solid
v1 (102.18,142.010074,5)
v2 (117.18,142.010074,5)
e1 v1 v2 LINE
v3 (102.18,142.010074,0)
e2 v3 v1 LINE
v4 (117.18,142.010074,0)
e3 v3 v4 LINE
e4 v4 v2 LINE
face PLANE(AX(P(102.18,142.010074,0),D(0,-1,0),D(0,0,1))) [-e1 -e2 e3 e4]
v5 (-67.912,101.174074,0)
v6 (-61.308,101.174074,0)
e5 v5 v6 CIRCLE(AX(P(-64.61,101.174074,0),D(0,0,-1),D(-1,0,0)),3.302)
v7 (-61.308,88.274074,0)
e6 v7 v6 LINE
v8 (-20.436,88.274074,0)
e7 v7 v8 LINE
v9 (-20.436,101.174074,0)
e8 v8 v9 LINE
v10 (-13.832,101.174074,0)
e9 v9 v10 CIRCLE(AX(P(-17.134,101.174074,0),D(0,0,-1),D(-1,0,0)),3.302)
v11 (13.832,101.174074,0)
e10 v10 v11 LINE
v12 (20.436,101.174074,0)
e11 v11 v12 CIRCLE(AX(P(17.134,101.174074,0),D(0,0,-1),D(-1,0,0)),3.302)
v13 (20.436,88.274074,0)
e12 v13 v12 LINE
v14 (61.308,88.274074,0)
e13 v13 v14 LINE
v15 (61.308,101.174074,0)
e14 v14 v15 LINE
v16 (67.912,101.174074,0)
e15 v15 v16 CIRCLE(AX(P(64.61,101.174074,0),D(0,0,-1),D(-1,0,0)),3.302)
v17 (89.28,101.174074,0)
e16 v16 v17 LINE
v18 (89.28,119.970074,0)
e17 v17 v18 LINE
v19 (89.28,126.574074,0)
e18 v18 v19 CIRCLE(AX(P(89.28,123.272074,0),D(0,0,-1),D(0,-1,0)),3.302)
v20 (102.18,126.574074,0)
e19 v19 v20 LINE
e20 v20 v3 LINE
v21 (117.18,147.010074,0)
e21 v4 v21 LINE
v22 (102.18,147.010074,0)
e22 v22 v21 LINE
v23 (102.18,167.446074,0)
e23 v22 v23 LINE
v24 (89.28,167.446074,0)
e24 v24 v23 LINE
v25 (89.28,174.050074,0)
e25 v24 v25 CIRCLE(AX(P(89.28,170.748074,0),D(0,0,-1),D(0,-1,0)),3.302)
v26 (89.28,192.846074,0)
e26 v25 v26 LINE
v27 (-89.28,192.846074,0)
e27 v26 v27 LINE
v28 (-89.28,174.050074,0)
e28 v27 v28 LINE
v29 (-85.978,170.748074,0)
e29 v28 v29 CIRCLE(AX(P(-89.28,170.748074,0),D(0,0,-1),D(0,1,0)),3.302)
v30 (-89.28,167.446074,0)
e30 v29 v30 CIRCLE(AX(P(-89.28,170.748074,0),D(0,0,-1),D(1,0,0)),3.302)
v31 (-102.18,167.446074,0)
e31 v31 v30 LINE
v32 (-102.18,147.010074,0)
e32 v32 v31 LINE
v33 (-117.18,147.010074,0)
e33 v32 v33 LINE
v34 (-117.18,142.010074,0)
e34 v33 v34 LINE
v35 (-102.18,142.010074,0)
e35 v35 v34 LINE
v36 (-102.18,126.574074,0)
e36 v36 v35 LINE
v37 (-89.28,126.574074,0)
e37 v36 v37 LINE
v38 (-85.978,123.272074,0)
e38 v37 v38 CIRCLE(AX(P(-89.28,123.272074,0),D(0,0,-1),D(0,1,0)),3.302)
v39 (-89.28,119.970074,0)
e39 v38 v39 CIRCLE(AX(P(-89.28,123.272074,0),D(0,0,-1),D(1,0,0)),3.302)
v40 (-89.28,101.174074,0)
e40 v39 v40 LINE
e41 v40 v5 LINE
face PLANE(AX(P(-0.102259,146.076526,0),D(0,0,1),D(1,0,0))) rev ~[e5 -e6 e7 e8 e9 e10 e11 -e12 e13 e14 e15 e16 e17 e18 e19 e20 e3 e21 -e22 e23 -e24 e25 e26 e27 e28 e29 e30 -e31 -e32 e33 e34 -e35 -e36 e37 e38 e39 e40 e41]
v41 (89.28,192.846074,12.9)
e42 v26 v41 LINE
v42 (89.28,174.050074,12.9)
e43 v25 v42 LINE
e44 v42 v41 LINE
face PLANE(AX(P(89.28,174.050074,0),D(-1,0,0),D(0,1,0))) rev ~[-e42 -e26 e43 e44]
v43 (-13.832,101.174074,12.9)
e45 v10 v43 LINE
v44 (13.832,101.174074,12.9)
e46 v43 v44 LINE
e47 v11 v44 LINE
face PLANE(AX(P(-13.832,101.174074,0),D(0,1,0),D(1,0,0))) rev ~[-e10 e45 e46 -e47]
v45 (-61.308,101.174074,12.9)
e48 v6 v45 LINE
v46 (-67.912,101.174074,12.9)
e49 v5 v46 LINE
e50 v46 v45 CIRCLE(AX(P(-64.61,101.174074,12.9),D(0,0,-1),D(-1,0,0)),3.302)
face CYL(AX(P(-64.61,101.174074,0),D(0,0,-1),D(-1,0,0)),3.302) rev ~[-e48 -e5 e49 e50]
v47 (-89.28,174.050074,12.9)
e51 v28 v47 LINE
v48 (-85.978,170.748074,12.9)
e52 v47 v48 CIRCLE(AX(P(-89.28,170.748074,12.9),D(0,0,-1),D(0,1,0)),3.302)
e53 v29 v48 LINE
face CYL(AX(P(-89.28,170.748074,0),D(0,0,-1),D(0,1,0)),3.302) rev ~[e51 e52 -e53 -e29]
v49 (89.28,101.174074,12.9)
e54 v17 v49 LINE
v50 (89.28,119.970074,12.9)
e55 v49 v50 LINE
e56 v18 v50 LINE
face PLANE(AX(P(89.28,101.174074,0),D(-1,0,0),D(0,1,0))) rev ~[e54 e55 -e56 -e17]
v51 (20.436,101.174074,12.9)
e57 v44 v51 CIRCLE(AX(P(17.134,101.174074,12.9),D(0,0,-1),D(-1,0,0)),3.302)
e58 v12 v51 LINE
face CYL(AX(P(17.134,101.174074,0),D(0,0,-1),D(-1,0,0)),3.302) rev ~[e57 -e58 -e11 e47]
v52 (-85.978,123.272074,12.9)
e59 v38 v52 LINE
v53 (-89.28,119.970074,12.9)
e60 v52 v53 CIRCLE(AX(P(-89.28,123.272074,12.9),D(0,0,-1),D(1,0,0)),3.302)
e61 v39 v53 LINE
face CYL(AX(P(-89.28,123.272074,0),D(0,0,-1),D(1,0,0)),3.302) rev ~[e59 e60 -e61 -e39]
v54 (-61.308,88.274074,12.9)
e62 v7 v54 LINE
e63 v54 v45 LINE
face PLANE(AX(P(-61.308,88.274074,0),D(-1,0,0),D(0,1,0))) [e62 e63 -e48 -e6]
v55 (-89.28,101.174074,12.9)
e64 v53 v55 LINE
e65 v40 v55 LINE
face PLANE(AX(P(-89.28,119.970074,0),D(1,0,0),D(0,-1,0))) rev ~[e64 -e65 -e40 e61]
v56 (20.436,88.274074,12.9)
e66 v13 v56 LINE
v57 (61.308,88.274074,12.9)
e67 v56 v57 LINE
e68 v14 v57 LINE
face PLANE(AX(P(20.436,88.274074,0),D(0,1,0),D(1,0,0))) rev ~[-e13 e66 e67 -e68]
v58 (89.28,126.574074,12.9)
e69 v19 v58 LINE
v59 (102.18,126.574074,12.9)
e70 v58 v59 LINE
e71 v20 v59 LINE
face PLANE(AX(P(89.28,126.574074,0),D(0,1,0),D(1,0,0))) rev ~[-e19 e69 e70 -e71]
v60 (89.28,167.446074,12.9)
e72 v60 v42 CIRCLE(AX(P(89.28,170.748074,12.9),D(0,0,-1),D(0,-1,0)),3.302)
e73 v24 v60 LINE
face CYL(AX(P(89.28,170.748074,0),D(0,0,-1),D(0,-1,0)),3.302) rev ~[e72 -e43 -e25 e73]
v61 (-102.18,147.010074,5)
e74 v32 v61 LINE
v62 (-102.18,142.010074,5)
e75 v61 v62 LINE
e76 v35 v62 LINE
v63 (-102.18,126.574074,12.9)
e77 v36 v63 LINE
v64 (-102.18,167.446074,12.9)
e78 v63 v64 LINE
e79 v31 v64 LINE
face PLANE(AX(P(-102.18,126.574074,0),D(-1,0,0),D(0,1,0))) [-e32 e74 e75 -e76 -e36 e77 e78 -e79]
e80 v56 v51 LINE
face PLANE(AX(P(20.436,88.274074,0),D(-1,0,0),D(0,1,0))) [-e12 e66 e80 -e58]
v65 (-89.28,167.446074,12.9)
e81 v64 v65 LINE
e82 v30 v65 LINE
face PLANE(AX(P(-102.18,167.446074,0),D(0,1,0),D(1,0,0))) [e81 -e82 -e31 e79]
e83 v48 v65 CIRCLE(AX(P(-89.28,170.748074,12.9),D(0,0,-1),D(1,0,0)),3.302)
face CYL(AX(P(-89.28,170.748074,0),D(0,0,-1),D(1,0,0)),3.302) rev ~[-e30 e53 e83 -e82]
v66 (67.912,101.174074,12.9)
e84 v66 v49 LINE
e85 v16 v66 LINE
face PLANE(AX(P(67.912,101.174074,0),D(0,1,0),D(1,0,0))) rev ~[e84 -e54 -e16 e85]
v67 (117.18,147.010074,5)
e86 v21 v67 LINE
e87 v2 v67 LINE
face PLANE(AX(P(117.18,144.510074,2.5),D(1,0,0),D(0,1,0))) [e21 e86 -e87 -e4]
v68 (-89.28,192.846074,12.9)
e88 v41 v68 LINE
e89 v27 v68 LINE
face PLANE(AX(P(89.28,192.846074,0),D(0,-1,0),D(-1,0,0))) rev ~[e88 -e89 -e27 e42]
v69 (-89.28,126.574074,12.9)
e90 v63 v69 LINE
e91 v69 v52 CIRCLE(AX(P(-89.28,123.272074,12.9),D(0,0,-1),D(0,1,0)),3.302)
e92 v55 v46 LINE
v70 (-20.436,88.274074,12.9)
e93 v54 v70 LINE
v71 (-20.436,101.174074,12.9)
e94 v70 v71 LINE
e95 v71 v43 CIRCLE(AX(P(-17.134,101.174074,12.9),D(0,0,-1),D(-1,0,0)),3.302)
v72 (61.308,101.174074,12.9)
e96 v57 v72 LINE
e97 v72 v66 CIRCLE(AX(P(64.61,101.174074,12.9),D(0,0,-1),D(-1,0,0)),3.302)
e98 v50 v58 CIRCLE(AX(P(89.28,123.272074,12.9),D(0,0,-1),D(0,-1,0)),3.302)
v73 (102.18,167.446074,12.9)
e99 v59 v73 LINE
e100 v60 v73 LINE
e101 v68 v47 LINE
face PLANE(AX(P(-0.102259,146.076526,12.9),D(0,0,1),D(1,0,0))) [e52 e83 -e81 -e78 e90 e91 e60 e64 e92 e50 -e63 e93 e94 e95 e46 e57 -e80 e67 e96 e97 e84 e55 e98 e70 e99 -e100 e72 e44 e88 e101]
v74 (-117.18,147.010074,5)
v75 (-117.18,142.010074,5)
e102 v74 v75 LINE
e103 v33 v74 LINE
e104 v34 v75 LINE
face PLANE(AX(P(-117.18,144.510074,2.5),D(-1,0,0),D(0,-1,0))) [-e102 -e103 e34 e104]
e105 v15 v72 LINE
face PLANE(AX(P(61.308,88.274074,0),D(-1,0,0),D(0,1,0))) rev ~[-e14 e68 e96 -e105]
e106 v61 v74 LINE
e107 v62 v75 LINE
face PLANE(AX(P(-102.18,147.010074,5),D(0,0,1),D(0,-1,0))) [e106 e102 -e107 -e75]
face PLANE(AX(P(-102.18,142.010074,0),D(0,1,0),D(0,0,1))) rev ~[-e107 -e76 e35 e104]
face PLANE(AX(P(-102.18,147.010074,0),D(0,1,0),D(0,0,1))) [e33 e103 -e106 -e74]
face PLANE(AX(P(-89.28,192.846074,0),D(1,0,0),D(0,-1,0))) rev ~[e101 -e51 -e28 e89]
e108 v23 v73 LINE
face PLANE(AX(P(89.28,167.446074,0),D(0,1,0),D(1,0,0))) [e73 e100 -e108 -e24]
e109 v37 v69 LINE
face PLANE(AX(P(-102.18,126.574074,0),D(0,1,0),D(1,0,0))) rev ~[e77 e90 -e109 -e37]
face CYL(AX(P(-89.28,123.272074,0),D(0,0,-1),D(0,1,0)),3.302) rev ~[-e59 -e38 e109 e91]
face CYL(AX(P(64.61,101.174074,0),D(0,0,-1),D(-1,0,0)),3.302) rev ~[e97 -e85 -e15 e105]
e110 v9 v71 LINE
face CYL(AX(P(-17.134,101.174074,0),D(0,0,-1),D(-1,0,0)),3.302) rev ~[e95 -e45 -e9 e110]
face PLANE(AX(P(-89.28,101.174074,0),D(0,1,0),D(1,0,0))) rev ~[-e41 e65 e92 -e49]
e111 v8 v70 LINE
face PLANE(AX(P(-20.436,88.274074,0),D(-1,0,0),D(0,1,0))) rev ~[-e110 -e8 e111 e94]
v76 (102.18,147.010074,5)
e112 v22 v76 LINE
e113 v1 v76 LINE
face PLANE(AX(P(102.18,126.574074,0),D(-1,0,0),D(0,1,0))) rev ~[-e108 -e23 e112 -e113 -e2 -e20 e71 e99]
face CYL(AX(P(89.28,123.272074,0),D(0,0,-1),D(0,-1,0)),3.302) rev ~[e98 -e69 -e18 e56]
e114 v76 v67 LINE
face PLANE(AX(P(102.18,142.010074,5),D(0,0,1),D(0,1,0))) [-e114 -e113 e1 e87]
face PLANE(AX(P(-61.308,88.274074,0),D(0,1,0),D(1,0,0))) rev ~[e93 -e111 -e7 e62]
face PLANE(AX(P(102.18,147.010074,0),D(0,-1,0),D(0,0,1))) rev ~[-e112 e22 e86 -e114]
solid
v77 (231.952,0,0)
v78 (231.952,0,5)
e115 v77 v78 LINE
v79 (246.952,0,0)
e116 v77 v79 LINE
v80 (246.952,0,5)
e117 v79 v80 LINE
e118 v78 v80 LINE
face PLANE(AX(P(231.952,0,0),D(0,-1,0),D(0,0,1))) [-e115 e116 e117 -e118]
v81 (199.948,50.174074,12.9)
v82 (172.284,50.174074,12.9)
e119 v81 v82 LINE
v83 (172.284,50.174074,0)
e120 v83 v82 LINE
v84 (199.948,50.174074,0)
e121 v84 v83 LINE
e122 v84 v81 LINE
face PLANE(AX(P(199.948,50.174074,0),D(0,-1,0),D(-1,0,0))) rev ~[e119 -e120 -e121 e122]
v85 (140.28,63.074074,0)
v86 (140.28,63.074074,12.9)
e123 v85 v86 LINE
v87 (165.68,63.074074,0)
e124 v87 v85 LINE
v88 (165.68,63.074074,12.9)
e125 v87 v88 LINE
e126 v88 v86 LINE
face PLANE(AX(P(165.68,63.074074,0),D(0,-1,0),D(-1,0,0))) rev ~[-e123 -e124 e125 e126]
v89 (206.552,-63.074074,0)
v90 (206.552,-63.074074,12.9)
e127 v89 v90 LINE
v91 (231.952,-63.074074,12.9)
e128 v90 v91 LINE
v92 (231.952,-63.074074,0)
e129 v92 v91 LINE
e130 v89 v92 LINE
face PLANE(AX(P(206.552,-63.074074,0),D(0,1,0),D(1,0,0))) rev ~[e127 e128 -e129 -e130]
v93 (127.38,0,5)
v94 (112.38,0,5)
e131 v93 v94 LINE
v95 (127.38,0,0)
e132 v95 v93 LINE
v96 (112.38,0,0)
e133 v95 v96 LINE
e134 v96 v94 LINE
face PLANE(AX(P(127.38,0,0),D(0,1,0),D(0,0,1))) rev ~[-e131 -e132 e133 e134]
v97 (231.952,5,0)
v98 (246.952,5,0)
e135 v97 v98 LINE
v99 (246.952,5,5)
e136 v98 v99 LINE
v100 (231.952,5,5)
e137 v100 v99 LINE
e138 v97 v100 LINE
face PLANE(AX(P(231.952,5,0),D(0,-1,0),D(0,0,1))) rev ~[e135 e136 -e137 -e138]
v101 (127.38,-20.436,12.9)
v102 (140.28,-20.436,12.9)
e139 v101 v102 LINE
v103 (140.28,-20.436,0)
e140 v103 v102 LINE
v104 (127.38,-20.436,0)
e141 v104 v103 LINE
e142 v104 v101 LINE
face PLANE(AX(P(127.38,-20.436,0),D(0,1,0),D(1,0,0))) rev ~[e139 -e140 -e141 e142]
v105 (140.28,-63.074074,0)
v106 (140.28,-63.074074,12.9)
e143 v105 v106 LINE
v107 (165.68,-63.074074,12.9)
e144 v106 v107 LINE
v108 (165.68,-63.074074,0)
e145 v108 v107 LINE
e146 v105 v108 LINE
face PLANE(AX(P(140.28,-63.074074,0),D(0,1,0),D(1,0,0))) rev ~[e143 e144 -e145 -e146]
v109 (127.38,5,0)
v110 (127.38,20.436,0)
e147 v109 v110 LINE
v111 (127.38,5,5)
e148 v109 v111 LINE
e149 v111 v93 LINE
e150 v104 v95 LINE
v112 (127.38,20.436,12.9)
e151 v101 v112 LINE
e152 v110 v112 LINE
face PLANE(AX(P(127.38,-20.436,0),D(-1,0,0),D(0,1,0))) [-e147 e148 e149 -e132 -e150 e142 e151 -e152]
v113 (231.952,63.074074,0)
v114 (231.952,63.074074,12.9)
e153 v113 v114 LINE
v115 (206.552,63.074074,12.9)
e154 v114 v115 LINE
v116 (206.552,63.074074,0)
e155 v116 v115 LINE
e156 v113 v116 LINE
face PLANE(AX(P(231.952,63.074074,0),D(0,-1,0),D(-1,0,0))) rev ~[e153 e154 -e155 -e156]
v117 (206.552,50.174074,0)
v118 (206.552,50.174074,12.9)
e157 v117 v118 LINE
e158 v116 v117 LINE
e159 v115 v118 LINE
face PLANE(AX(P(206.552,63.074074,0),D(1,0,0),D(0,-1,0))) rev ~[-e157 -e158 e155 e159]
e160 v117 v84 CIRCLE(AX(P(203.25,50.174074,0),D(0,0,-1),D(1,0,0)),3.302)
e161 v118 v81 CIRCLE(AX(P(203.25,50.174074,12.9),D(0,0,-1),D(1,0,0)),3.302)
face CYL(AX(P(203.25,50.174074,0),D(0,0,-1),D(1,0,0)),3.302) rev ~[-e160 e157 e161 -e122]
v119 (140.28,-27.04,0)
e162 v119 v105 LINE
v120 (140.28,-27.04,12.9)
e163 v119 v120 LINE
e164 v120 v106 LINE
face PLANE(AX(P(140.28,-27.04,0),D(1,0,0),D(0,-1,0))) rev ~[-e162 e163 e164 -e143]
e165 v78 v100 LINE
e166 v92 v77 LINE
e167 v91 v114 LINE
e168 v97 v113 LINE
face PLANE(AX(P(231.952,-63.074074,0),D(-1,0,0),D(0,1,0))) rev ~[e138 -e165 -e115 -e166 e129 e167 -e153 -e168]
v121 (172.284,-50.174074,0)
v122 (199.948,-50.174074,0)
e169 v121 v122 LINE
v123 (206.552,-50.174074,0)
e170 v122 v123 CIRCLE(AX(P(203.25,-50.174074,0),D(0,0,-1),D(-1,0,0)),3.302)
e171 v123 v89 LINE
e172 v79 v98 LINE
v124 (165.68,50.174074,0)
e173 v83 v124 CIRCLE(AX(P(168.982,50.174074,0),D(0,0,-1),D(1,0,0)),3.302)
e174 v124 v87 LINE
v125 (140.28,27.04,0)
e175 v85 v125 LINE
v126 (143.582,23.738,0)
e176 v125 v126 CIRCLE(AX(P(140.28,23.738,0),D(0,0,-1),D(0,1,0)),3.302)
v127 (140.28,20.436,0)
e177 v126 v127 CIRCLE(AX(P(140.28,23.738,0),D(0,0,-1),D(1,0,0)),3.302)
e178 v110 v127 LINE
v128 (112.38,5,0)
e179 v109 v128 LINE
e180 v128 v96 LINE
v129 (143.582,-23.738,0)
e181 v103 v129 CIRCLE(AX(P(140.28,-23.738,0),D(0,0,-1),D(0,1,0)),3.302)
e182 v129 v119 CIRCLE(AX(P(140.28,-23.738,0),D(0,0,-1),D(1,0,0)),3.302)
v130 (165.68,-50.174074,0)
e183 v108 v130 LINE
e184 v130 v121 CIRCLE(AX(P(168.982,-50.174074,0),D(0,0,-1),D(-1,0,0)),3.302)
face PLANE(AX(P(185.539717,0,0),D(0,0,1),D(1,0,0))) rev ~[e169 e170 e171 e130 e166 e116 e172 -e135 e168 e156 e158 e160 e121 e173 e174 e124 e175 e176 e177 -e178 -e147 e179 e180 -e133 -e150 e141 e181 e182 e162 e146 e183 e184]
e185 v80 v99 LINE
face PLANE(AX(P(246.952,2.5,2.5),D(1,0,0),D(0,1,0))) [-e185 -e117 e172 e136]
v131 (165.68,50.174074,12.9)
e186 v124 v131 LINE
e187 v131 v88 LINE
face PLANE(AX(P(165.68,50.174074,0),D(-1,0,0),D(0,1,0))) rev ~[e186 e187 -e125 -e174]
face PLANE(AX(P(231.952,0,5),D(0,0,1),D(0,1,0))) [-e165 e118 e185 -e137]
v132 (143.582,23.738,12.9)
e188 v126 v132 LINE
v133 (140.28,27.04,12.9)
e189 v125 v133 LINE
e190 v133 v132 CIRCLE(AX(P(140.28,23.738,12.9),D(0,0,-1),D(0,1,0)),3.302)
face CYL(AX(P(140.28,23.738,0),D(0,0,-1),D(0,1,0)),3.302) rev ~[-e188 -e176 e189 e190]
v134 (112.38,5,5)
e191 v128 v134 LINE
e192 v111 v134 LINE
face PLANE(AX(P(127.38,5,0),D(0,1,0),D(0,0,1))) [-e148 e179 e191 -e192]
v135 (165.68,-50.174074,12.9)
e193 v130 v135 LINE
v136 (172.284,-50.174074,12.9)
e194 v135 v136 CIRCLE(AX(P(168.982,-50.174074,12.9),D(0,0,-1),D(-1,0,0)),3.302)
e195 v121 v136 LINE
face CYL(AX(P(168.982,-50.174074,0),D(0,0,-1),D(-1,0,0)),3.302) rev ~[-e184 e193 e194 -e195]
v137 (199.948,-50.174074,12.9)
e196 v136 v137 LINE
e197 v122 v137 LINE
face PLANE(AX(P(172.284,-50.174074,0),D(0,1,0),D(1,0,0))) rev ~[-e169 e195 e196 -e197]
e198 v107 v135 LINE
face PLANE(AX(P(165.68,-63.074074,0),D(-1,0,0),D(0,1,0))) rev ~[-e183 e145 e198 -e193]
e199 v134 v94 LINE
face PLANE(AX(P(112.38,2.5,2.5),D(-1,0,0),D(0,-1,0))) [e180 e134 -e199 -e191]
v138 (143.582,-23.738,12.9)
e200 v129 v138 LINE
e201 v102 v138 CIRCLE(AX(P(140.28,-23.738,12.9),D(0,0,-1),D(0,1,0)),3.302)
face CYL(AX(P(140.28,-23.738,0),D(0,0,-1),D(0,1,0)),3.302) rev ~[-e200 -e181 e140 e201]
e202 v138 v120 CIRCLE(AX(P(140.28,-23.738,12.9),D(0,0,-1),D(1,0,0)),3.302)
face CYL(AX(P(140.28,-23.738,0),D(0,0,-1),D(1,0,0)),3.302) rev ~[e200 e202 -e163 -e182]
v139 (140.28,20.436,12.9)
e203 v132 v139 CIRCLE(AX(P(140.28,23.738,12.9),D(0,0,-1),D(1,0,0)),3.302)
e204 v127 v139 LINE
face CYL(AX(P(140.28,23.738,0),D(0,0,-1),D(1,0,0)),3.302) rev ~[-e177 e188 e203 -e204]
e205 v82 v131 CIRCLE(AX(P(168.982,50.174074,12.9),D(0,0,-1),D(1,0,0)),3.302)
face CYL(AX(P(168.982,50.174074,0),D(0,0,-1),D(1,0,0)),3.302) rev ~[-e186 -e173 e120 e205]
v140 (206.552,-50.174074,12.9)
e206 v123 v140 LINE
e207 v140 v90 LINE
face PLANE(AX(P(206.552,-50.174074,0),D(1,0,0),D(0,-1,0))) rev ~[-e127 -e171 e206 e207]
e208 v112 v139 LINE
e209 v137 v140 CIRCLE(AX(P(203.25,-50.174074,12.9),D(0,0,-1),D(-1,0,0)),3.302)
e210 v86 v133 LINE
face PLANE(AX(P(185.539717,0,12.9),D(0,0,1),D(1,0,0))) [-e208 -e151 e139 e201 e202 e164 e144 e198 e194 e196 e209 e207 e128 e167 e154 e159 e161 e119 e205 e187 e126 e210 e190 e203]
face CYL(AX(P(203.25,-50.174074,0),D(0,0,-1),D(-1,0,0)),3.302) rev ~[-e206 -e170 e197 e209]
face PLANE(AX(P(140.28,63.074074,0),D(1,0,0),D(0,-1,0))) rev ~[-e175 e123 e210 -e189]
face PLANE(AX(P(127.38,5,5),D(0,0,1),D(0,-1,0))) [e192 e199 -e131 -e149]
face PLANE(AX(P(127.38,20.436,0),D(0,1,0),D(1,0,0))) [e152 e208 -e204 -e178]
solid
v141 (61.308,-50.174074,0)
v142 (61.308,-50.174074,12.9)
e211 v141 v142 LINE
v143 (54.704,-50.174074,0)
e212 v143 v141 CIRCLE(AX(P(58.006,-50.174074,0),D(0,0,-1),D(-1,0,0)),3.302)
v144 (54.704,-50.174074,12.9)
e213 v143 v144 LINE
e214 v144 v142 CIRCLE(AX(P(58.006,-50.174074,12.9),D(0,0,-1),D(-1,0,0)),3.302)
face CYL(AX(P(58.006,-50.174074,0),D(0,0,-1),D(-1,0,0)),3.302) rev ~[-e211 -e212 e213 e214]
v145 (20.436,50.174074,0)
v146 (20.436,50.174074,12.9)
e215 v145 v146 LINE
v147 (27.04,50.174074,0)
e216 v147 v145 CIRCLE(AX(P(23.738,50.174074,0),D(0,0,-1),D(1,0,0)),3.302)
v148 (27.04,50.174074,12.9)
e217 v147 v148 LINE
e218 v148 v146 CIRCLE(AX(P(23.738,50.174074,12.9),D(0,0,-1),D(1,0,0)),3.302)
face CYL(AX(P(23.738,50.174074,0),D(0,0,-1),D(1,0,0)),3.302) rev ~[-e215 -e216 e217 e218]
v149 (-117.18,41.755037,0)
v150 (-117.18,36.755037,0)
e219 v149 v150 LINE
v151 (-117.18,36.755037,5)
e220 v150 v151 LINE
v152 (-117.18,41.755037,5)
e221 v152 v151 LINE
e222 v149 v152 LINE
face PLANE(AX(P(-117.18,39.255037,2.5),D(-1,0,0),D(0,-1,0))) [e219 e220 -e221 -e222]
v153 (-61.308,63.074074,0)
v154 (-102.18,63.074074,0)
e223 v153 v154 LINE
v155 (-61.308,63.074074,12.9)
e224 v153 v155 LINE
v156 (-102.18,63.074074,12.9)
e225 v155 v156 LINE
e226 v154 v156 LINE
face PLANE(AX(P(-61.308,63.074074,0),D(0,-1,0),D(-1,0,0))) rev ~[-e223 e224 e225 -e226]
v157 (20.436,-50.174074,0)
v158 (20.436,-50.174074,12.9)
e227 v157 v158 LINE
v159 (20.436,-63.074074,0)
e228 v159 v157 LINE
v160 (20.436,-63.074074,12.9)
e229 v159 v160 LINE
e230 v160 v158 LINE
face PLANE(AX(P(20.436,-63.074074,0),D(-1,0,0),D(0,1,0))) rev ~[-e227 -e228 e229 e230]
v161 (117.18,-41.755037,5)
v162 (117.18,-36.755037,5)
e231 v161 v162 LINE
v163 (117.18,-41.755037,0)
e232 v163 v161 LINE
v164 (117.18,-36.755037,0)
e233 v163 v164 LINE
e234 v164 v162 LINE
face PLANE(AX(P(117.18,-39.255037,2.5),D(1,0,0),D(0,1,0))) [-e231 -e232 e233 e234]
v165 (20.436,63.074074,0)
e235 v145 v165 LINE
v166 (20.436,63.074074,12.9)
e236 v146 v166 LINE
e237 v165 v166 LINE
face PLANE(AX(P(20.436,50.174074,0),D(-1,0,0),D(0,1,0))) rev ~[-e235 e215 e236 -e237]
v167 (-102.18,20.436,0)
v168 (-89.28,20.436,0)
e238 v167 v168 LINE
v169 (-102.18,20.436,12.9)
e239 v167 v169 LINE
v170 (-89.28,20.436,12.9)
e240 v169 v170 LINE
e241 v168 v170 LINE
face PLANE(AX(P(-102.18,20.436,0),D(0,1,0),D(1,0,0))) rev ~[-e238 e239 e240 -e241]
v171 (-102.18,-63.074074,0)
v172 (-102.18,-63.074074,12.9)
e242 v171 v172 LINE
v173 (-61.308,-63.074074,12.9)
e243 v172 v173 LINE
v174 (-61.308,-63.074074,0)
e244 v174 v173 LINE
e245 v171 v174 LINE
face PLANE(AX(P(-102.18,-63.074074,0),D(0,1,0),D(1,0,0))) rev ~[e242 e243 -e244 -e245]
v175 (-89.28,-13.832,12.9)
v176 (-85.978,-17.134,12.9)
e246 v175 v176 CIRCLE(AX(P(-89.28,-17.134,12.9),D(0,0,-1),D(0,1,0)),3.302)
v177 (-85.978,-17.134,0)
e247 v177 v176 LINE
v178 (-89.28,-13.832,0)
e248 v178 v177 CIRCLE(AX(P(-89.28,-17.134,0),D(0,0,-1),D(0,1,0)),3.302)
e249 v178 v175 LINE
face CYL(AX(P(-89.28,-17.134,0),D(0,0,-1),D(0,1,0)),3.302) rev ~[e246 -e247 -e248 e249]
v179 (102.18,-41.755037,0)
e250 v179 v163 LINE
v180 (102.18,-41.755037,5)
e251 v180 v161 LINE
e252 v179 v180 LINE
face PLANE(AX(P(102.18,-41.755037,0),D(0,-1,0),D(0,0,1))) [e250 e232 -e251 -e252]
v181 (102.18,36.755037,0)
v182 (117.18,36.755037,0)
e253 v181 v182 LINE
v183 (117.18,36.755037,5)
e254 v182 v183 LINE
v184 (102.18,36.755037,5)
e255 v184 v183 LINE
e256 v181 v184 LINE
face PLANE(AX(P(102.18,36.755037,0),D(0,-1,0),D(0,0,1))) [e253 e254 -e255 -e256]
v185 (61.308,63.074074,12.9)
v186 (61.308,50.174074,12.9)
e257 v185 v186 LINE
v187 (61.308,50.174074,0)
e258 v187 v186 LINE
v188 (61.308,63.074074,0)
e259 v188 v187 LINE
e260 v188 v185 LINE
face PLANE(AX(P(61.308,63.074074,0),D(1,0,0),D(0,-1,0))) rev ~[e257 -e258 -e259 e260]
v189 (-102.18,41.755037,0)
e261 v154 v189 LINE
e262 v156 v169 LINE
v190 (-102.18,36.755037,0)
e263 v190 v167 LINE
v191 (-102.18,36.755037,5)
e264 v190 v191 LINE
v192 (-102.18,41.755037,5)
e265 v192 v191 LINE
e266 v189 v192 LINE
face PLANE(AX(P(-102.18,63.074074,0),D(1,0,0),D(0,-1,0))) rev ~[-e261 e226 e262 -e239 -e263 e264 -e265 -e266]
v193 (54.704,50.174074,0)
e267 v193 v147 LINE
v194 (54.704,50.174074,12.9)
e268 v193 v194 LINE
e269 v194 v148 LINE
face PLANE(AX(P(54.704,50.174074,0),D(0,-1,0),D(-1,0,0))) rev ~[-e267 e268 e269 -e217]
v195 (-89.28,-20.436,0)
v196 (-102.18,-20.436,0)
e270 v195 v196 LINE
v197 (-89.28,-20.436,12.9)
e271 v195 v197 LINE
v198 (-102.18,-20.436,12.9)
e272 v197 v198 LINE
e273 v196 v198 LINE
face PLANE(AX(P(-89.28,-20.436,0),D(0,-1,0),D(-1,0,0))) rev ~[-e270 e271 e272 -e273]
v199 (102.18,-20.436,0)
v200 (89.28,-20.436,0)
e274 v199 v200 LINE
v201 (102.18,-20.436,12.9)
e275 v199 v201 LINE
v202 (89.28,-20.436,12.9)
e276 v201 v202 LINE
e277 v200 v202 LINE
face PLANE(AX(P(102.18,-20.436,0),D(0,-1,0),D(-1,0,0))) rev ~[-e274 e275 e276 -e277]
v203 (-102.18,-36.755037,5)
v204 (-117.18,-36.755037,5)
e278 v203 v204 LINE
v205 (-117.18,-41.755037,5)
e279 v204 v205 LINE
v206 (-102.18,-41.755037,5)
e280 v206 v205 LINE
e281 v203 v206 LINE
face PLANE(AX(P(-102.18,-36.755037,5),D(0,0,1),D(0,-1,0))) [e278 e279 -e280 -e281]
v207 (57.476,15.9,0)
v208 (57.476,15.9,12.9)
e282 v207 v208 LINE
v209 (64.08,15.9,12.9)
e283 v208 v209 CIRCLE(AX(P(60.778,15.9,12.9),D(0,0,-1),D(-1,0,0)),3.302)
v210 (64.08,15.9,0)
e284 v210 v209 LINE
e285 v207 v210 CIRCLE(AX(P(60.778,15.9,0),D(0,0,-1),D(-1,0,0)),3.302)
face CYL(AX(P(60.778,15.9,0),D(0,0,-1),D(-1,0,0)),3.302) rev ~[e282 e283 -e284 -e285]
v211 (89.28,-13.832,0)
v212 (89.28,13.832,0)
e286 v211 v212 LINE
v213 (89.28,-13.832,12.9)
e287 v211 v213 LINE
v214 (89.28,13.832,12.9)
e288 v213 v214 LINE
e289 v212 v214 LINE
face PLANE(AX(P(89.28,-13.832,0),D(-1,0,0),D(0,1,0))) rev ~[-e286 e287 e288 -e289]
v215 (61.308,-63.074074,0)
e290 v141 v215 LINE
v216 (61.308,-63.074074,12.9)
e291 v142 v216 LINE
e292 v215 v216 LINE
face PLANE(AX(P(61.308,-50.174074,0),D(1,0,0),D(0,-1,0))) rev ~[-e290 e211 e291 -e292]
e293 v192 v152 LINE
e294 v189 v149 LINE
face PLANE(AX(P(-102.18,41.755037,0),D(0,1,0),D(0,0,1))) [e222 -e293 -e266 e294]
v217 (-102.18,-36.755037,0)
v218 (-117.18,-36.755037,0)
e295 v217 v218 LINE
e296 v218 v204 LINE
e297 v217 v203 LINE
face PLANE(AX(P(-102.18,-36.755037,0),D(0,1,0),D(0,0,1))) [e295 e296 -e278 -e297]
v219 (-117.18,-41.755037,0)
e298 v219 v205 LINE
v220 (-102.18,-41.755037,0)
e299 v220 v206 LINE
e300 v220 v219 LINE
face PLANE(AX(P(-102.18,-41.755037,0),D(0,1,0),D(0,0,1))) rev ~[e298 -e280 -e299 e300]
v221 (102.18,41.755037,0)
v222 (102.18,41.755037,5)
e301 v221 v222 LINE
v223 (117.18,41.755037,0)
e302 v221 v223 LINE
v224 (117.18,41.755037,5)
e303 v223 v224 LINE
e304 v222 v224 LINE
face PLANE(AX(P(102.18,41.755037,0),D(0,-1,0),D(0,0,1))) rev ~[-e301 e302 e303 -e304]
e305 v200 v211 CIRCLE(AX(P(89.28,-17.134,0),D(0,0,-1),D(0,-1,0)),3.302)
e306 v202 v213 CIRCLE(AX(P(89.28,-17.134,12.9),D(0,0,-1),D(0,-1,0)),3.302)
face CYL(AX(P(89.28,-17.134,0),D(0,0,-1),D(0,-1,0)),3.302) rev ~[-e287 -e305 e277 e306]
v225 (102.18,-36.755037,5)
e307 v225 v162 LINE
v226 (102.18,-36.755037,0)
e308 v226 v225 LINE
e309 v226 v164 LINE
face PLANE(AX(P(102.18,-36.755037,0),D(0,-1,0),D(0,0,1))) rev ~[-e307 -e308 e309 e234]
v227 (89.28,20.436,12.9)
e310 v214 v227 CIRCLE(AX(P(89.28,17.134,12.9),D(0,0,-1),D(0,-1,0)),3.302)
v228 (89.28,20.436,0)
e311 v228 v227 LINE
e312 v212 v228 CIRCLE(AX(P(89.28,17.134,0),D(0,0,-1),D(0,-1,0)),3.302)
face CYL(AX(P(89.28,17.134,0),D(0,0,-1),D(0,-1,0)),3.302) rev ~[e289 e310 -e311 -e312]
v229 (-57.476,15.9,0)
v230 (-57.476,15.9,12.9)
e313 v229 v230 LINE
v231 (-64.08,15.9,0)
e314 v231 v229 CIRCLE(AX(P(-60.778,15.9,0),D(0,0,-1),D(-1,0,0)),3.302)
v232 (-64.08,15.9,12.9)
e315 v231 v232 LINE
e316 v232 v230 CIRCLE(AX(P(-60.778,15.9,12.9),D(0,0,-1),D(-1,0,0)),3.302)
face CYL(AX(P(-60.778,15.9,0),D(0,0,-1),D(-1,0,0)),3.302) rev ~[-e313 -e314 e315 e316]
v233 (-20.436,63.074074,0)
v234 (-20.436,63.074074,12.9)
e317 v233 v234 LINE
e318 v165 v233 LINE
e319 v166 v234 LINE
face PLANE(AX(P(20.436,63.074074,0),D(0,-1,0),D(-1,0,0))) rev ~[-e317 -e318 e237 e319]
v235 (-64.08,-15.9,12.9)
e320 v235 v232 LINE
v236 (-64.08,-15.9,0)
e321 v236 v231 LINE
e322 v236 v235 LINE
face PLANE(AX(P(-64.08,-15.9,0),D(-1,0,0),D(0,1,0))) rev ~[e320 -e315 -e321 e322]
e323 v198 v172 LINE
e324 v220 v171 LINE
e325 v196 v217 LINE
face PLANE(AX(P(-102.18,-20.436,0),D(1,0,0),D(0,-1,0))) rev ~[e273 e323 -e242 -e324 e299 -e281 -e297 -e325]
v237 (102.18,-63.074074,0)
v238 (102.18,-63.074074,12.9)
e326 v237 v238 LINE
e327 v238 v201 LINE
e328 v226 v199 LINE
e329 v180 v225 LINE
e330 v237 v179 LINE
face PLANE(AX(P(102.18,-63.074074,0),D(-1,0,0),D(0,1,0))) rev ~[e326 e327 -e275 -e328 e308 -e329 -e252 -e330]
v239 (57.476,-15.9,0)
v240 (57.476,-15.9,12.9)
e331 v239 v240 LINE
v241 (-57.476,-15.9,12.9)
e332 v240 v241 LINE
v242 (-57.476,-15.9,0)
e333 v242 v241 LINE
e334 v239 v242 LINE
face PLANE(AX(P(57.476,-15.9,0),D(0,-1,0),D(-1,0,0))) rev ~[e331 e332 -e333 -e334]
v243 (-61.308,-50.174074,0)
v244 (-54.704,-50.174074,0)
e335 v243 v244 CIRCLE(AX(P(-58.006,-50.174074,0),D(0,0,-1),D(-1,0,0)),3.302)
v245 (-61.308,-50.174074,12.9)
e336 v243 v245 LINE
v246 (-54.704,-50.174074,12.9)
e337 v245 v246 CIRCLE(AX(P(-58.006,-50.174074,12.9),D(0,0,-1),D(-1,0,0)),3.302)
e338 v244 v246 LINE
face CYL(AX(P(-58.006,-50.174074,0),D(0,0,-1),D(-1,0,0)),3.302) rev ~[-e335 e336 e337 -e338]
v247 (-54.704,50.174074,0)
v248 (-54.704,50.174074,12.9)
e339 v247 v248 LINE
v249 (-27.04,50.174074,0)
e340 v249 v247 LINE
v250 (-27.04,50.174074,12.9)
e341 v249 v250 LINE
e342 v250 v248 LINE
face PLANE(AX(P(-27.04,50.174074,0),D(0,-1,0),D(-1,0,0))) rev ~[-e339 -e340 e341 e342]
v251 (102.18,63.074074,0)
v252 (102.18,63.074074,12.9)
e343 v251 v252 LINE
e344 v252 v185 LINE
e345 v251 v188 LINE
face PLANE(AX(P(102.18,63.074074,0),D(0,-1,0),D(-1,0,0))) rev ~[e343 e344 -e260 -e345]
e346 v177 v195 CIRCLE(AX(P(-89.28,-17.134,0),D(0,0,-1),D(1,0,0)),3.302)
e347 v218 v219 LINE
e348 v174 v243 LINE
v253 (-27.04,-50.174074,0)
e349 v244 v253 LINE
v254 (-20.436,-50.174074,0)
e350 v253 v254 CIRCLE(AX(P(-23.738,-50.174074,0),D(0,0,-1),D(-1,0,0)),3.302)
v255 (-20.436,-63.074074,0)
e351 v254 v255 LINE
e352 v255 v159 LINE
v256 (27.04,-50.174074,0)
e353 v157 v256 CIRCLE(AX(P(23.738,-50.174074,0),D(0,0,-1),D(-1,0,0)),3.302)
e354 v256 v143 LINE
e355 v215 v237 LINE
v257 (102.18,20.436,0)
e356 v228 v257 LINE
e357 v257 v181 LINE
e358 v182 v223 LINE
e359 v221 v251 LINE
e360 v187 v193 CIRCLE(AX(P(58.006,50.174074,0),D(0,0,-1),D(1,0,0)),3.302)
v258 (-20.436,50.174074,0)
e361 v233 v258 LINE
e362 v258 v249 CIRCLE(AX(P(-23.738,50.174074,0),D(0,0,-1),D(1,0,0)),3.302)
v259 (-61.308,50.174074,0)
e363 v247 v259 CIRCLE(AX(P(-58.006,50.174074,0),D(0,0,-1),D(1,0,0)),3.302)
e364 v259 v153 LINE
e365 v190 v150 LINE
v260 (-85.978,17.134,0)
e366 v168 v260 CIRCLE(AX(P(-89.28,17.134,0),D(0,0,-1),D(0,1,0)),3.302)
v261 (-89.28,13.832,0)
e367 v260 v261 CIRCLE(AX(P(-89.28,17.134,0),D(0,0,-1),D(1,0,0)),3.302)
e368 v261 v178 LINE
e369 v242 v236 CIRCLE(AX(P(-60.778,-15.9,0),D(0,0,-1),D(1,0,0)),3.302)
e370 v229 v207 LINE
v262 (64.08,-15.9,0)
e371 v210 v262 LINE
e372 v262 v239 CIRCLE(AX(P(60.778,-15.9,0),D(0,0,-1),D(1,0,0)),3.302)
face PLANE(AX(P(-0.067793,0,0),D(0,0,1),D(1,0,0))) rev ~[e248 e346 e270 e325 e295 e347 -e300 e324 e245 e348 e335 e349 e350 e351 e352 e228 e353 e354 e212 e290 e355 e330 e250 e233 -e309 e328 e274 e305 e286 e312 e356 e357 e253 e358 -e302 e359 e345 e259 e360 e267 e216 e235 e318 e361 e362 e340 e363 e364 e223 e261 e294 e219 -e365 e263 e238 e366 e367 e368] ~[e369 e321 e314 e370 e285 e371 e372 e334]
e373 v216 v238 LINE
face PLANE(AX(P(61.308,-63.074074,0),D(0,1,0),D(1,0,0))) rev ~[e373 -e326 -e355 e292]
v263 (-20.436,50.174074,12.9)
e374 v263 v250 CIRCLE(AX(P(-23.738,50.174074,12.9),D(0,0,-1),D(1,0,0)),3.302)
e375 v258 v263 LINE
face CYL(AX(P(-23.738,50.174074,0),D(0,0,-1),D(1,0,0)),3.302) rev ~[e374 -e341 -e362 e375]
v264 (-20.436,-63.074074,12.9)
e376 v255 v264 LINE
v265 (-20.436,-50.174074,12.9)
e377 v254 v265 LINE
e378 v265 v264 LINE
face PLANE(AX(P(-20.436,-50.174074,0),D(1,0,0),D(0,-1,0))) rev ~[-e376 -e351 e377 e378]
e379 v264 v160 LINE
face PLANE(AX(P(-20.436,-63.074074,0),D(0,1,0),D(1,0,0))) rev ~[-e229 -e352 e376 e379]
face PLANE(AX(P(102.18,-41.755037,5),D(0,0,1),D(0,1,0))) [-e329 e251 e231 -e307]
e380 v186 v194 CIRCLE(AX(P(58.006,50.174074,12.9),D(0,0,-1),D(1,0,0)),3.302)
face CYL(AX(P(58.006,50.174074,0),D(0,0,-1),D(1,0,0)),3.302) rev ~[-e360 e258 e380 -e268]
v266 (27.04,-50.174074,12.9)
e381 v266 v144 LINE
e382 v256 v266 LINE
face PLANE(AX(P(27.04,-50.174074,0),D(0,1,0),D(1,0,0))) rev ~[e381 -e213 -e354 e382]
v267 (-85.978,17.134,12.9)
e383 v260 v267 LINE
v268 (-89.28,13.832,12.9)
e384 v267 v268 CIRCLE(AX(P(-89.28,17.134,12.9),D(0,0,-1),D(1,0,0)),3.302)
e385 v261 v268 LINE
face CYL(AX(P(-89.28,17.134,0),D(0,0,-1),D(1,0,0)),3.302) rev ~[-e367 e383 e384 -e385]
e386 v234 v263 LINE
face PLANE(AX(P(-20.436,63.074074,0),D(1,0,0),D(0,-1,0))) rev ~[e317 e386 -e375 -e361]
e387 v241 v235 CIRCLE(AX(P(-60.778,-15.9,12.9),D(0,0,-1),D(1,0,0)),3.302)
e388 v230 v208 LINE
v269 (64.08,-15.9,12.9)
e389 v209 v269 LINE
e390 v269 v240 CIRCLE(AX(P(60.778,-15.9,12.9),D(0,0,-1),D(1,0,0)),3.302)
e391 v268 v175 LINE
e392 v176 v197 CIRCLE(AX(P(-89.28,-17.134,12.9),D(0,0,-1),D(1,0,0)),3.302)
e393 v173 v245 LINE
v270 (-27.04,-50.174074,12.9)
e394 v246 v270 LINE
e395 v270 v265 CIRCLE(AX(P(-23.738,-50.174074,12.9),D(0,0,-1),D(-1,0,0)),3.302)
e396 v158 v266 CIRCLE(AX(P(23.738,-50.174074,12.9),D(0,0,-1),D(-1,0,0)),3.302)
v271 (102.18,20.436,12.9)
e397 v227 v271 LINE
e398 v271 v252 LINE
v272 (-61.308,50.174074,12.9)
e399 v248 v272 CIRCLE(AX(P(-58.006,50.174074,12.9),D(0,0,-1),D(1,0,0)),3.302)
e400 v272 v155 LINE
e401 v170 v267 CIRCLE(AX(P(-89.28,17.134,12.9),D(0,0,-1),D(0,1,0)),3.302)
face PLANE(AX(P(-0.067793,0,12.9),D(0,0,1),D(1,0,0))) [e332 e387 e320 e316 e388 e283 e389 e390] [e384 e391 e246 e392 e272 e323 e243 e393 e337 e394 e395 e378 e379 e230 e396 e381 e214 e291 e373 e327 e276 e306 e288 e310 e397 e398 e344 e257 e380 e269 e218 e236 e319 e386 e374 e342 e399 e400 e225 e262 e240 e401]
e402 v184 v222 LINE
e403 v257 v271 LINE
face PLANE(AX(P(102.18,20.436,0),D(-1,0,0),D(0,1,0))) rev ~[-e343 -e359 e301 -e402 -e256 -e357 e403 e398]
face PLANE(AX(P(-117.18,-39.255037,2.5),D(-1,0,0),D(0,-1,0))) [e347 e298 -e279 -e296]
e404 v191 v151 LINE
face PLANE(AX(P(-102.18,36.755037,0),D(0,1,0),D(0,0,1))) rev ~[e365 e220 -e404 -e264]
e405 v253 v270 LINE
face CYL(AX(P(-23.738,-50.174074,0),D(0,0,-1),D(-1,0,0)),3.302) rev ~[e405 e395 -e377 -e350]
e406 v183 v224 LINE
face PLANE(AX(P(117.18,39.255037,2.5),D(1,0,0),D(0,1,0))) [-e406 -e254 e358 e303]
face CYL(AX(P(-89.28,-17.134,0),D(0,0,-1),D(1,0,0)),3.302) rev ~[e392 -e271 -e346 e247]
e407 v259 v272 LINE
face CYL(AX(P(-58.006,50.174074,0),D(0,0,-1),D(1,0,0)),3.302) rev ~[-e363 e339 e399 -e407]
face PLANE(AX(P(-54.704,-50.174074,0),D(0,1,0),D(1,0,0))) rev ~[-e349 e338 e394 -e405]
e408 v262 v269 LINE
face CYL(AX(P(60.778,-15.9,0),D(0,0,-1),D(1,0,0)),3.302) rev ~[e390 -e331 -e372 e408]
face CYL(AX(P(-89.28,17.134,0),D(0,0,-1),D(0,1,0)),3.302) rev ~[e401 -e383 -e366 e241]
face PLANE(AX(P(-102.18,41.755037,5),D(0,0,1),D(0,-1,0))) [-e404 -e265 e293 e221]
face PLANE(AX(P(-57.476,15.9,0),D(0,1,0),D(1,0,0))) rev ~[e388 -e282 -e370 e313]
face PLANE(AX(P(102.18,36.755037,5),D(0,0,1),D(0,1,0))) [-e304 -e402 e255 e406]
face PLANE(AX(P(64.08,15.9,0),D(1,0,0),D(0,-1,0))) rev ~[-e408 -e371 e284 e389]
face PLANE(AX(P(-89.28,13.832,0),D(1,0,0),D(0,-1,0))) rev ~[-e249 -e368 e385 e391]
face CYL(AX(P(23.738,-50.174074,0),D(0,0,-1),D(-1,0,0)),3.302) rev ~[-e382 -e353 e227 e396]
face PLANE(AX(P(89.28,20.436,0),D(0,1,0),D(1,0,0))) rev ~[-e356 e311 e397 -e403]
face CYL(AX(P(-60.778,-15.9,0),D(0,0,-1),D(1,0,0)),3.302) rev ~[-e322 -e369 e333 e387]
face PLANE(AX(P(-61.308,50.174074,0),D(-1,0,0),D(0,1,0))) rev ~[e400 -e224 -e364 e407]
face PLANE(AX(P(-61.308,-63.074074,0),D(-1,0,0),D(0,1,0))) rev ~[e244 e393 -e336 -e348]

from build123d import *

# Parameters (mm, degrees)
F2_DEPTH  = 12.9
F1_W      = 12.9
F1_H      = 40.872
F1_W_2    = 40.872
F1_H_2    = 12.9
F3_DEPTH  = 12.9
F4_DEPTH  = 12.9
F5_W      = 5
F5_H      = 5
F6_DEPTH  = 15
F7_W      = 5
F7_H      = 5
F8_DEPTH  = 15
F9_W      = 5
F9_H      = 5
F10_DEPTH = 15
F11_W     = 5
F11_H     = 5
F12_DEPTH = 15
F13_W     = 5
F13_H     = 5
F14_DEPTH = 15
F15_W     = 5
F15_H     = 5
F16_DEPTH = 15
F17_W     = 5
F17_H     = 5
F18_DEPTH = 15
F19_W     = 5
F19_H     = 5
F20_DEPTH = 15


with BuildPart() as f2:
    # F1 (on Top) → F2 (new body)
    with BuildSketch(Plane.XY):
        with BuildLine():
            Line((-61.308, 63.0740740741), (-102.18, 63.0740740741))
            Line((-102.18, 63.0740740741), (-102.18, 20.436))
            Line((-102.18, 20.436), (-89.28, 20.436))
            ThreePointArc((-89.28, 20.436), (-86.9451334085, 19.4688665915), (-85.978, 17.134))
            ThreePointArc((-85.978, 17.134), (-86.9451334085, 14.7991334085), (-89.28, 13.832))
            Line((-89.28, 13.832), (-89.28, -13.832))
            ThreePointArc((-89.28, -13.832), (-86.9451334085, -14.7991334085), (-85.978, -17.134))
            ThreePointArc((-85.978, -17.134), (-86.9451334085, -19.4688665915), (-89.28, -20.436))
            Line((-89.28, -20.436), (-102.18, -20.436))
            Line((-102.18, -20.436), (-102.18, -63.0740740741))
            Line((-102.18, -63.0740740741), (-61.308, -63.0740740741))
            Line((-61.308, -63.0740740741), (-61.308, -50.1740740741))
            ThreePointArc((-61.308, -50.1740740741), (-58.006, -46.8720740741), (-54.704, -50.1740740741))
            Line((-54.704, -50.1740740741), (-27.04, -50.1740740741))
            ThreePointArc((-27.04, -50.1740740741), (-23.738, -46.8720740741), (-20.436, -50.1740740741))
            Line((-20.436, -50.1740740741), (-20.436, -63.0740740741))
            Line((-20.436, -63.0740740741), (20.436, -63.0740740741))
            Line((20.436, -63.0740740741), (20.436, -50.1740740741))
            ThreePointArc((20.436, -50.1740740741), (23.738, -46.8720740741), (27.04, -50.1740740741))
            Line((27.04, -50.1740740741), (54.704, -50.1740740741))
            ThreePointArc((54.704, -50.1740740741), (58.006, -46.8720740741), (61.308, -50.1740740741))
            Line((61.308, -50.1740740741), (61.308, -63.0740740741))
            Line((61.308, -63.0740740741), (102.18, -63.0740740741))
            Line((102.18, -63.0740740741), (102.18, -20.436))
            Line((102.18, -20.436), (89.28, -20.436))
            ThreePointArc((89.28, -20.436), (85.978, -17.134), (89.28, -13.832))
            Line((89.28, -13.832), (89.28, 13.832))
            ThreePointArc((89.28, 13.832), (85.978, 17.134), (89.28, 20.436))
            Line((89.28, 20.436), (102.18, 20.436))
            Line((102.18, 20.436), (102.18, 63.0740740741))
            Line((102.18, 63.0740740741), (61.308, 63.0740740741))
            Line((61.308, 63.0740740741), (61.308, 50.1740740741))
            ThreePointArc((61.308, 50.1740740741), (58.006, 46.8720740741), (54.704, 50.1740740741))
            Line((54.704, 50.1740740741), (27.04, 50.1740740741))
            ThreePointArc((27.04, 50.1740740741), (23.738, 46.8720740741), (20.436, 50.1740740741))
            Line((20.436, 50.1740740741), (20.436, 63.0740740741))
            Line((20.436, 63.0740740741), (-20.436, 63.0740740741))
            Line((-20.436, 63.0740740741), (-20.436, 50.1740740741))
            ThreePointArc((-20.436, 50.1740740741), (-23.738, 46.8720740741), (-27.04, 50.1740740741))
            Line((-27.04, 50.1740740741), (-54.704, 50.1740740741))
            ThreePointArc((-54.704, 50.1740740741), (-58.006, 46.8720740741), (-61.308, 50.1740740741))
            Line((-61.308, 50.1740740741), (-61.308, 63.0740740741))
        make_face()
        with BuildLine():
            Line((57.476, -15.9), (-57.476, -15.9))
            ThreePointArc((-57.476, -15.9), (-60.778, -19.202), (-64.08, -15.9))
            Line((-64.08, -15.9), (-64.08, 15.9))
            ThreePointArc((-64.08, 15.9), (-60.778, 19.202), (-57.476, 15.9))
            Line((-57.476, 15.9), (57.476, 15.9))
            ThreePointArc((57.476, 15.9), (60.778, 19.202), (64.08, 15.9))
            Line((64.08, 15.9), (64.08, -15.9))
            ThreePointArc((64.08, -15.9), (60.778, -19.202), (57.476, -15.9))
        make_face(mode=Mode.SUBTRACT)
    extrude(amount=F2_DEPTH)

    # F5 (on face) → F6 (join)
    with BuildSketch(Plane(origin=(-102.18, 0, 0), x_dir=(0, -1, 0), z_dir=(-1, 0, 0))):
        with Locations((-39.255037037, 2.5)):
            Rectangle(F5_W, F5_H)
    extrude(amount=F6_DEPTH)

    # F7 (on face) → F8 (join)
    with BuildSketch(Plane(origin=(-102.18, 0, 0), x_dir=(0, -1, 0), z_dir=(-1, 0, 0))):
        with Locations((39.255037037, 2.5)):
            Rectangle(F7_W, F7_H)
    extrude(amount=F8_DEPTH)

    # F9 (on face) → F10 (join)
    with BuildSketch(Plane.YZ.offset(102.18)):
        with Locations((-39.255037037, 2.5)):
            Rectangle(F9_W, F9_H)
    extrude(amount=F10_DEPTH)

    # F11 (on face) → F12 (join)
    with BuildSketch(Plane.YZ.offset(102.18)):
        with Locations((39.255037037, 2.5)):
            Rectangle(F11_W, F11_H)
    extrude(amount=F12_DEPTH)


with BuildPart() as f3:
    # F1 (on Top) → F3 (new body)
    with BuildSketch(Plane.XY):
        with BuildLine():
            ThreePointArc((-67.912, 101.1740740741), (-64.61, 104.4760740741), (-61.308, 101.1740740741))
            Line((-61.308, 101.1740740741), (-20.436, 101.1740740741))
            ThreePointArc((-20.436, 101.1740740741), (-17.134, 104.4760740741), (-13.832, 101.1740740741))
            Line((-13.832, 101.1740740741), (13.832, 101.1740740741))
            ThreePointArc((13.832, 101.1740740741), (17.134, 104.4760740741), (20.436, 101.1740740741))
            Line((20.436, 101.1740740741), (61.308, 101.1740740741))
            ThreePointArc((61.308, 101.1740740741), (64.61, 104.4760740741), (67.912, 101.1740740741))
            Line((67.912, 101.1740740741), (89.28, 101.1740740741))
            Line((89.28, 101.1740740741), (89.28, 119.9700740741))
            ThreePointArc((89.28, 119.9700740741), (85.978, 123.2720740741), (89.28, 126.5740740741))
            Line((89.28, 126.5740740741), (89.28, 167.4460740741))
            ThreePointArc((89.28, 167.4460740741), (85.978, 170.7480740741), (89.28, 174.0500740741))
            Line((89.28, 174.0500740741), (89.28, 192.8460740741))
            Line((89.28, 192.8460740741), (-89.28, 192.8460740741))
            Line((-89.28, 192.8460740741), (-89.28, 174.0500740741))
            ThreePointArc((-89.28, 174.0500740741), (-86.9451334085, 173.0829406656), (-85.978, 170.7480740741))
            ThreePointArc((-85.978, 170.7480740741), (-86.9451334085, 168.4132074826), (-89.28, 167.4460740741))
            Line((-89.28, 167.4460740741), (-89.28, 126.5740740741))
            ThreePointArc((-89.28, 126.5740740741), (-86.9451334085, 125.6069406656), (-85.978, 123.2720740741))
            ThreePointArc((-85.978, 123.2720740741), (-86.9451334085, 120.9372074826), (-89.28, 119.9700740741))
            Line((-89.28, 119.9700740741), (-89.28, 101.1740740741))
            Line((-89.28, 101.1740740741), (-67.912, 101.1740740741))
        make_face()
        with Locations((-95.73, 147.0100740741)):
            Rectangle(F1_W, F1_H)
        with Locations((-40.872, 94.7240740741)):
            Rectangle(F1_W_2, F1_H_2)
        with Locations((40.872, 94.7240740741)):
            Rectangle(F1_W_2, F1_H_2)
        with Locations((95.73, 147.0100740741)):
            Rectangle(F1_W, F1_H)
    extrude(amount=F3_DEPTH)

    # F13 (on face) → F14 (join)
    with BuildSketch(Plane(origin=(-102.18, 0, 0), x_dir=(0, -1, 0), z_dir=(-1, 0, 0))):
        with Locations((-144.5100740741, 2.5)):
            Rectangle(F13_W, F13_H)
    extrude(amount=F14_DEPTH)

    # F15 (on face) → F16 (join)
    with BuildSketch(Plane.YZ.offset(102.18)):
        with Locations((144.5100740741, 2.5)):
            Rectangle(F15_W, F15_H)
    extrude(amount=F16_DEPTH)


with BuildPart() as f4:
    # F1 (on Top) → F4 (new body)
    with BuildSketch(Plane.XY):
        with BuildLine():
            ThreePointArc((143.582, 23.738), (142.6148665915, 21.4031334085), (140.28, 20.436))
            Line((140.28, 20.436), (140.28, -20.436))
            ThreePointArc((140.28, -20.436), (142.6148665915, -21.4031334085), (143.582, -23.738))
            ThreePointArc((143.582, -23.738), (142.6148665915, -26.0728665915), (140.28, -27.04))
            Line((140.28, -27.04), (140.28, -63.0740740741))
            Line((140.28, -63.0740740741), (165.68, -63.0740740741))
            Line((165.68, -63.0740740741), (165.68, -50.1740740741))
            ThreePointArc((165.68, -50.1740740741), (168.982, -46.8720740741), (172.284, -50.1740740741))
            Line((172.284, -50.1740740741), (199.948, -50.1740740741))
            ThreePointArc((199.948, -50.1740740741), (203.25, -46.8720740741), (206.552, -50.1740740741))
            Line((206.552, -50.1740740741), (206.552, -63.0740740741))
            Line((206.552, -63.0740740741), (231.952, -63.0740740741))
            Line((231.952, -63.0740740741), (231.952, 63.0740740741))
            Line((231.952, 63.0740740741), (206.552, 63.0740740741))
            Line((206.552, 63.0740740741), (206.552, 50.1740740741))
            ThreePointArc((206.552, 50.1740740741), (203.25, 46.8720740741), (199.948, 50.1740740741))
            Line((199.948, 50.1740740741), (172.284, 50.1740740741))
            ThreePointArc((172.284, 50.1740740741), (168.982, 46.8720740741), (165.68, 50.1740740741))
            Line((165.68, 50.1740740741), (165.68, 63.0740740741))
            Line((165.68, 63.0740740741), (140.28, 63.0740740741))
            Line((140.28, 63.0740740741), (140.28, 27.04))
            ThreePointArc((140.28, 27.04), (142.6148665915, 26.0728665915), (143.582, 23.738))
        make_face()
        with Locations((133.83, 0)):
            Rectangle(F1_W, F1_H)
    extrude(amount=F4_DEPTH)

    # F17 (on face) → F18 (join)
    with BuildSketch(Plane(origin=(127.38, 0, 0), x_dir=(0, -1, 0), z_dir=(-1, 0, 0))):
        with Locations((-2.5, 2.5)):
            Rectangle(F17_W, F17_H)
    extrude(amount=F18_DEPTH)

    # F19 (on face) → F20 (join)
    with BuildSketch(Plane.YZ.offset(231.952)):
        with Locations((2.5, 2.5)):
            Rectangle(F19_W, F19_H)
    extrude(amount=F20_DEPTH)


solid = Compound([f2.part, f3.part, f4.part])
